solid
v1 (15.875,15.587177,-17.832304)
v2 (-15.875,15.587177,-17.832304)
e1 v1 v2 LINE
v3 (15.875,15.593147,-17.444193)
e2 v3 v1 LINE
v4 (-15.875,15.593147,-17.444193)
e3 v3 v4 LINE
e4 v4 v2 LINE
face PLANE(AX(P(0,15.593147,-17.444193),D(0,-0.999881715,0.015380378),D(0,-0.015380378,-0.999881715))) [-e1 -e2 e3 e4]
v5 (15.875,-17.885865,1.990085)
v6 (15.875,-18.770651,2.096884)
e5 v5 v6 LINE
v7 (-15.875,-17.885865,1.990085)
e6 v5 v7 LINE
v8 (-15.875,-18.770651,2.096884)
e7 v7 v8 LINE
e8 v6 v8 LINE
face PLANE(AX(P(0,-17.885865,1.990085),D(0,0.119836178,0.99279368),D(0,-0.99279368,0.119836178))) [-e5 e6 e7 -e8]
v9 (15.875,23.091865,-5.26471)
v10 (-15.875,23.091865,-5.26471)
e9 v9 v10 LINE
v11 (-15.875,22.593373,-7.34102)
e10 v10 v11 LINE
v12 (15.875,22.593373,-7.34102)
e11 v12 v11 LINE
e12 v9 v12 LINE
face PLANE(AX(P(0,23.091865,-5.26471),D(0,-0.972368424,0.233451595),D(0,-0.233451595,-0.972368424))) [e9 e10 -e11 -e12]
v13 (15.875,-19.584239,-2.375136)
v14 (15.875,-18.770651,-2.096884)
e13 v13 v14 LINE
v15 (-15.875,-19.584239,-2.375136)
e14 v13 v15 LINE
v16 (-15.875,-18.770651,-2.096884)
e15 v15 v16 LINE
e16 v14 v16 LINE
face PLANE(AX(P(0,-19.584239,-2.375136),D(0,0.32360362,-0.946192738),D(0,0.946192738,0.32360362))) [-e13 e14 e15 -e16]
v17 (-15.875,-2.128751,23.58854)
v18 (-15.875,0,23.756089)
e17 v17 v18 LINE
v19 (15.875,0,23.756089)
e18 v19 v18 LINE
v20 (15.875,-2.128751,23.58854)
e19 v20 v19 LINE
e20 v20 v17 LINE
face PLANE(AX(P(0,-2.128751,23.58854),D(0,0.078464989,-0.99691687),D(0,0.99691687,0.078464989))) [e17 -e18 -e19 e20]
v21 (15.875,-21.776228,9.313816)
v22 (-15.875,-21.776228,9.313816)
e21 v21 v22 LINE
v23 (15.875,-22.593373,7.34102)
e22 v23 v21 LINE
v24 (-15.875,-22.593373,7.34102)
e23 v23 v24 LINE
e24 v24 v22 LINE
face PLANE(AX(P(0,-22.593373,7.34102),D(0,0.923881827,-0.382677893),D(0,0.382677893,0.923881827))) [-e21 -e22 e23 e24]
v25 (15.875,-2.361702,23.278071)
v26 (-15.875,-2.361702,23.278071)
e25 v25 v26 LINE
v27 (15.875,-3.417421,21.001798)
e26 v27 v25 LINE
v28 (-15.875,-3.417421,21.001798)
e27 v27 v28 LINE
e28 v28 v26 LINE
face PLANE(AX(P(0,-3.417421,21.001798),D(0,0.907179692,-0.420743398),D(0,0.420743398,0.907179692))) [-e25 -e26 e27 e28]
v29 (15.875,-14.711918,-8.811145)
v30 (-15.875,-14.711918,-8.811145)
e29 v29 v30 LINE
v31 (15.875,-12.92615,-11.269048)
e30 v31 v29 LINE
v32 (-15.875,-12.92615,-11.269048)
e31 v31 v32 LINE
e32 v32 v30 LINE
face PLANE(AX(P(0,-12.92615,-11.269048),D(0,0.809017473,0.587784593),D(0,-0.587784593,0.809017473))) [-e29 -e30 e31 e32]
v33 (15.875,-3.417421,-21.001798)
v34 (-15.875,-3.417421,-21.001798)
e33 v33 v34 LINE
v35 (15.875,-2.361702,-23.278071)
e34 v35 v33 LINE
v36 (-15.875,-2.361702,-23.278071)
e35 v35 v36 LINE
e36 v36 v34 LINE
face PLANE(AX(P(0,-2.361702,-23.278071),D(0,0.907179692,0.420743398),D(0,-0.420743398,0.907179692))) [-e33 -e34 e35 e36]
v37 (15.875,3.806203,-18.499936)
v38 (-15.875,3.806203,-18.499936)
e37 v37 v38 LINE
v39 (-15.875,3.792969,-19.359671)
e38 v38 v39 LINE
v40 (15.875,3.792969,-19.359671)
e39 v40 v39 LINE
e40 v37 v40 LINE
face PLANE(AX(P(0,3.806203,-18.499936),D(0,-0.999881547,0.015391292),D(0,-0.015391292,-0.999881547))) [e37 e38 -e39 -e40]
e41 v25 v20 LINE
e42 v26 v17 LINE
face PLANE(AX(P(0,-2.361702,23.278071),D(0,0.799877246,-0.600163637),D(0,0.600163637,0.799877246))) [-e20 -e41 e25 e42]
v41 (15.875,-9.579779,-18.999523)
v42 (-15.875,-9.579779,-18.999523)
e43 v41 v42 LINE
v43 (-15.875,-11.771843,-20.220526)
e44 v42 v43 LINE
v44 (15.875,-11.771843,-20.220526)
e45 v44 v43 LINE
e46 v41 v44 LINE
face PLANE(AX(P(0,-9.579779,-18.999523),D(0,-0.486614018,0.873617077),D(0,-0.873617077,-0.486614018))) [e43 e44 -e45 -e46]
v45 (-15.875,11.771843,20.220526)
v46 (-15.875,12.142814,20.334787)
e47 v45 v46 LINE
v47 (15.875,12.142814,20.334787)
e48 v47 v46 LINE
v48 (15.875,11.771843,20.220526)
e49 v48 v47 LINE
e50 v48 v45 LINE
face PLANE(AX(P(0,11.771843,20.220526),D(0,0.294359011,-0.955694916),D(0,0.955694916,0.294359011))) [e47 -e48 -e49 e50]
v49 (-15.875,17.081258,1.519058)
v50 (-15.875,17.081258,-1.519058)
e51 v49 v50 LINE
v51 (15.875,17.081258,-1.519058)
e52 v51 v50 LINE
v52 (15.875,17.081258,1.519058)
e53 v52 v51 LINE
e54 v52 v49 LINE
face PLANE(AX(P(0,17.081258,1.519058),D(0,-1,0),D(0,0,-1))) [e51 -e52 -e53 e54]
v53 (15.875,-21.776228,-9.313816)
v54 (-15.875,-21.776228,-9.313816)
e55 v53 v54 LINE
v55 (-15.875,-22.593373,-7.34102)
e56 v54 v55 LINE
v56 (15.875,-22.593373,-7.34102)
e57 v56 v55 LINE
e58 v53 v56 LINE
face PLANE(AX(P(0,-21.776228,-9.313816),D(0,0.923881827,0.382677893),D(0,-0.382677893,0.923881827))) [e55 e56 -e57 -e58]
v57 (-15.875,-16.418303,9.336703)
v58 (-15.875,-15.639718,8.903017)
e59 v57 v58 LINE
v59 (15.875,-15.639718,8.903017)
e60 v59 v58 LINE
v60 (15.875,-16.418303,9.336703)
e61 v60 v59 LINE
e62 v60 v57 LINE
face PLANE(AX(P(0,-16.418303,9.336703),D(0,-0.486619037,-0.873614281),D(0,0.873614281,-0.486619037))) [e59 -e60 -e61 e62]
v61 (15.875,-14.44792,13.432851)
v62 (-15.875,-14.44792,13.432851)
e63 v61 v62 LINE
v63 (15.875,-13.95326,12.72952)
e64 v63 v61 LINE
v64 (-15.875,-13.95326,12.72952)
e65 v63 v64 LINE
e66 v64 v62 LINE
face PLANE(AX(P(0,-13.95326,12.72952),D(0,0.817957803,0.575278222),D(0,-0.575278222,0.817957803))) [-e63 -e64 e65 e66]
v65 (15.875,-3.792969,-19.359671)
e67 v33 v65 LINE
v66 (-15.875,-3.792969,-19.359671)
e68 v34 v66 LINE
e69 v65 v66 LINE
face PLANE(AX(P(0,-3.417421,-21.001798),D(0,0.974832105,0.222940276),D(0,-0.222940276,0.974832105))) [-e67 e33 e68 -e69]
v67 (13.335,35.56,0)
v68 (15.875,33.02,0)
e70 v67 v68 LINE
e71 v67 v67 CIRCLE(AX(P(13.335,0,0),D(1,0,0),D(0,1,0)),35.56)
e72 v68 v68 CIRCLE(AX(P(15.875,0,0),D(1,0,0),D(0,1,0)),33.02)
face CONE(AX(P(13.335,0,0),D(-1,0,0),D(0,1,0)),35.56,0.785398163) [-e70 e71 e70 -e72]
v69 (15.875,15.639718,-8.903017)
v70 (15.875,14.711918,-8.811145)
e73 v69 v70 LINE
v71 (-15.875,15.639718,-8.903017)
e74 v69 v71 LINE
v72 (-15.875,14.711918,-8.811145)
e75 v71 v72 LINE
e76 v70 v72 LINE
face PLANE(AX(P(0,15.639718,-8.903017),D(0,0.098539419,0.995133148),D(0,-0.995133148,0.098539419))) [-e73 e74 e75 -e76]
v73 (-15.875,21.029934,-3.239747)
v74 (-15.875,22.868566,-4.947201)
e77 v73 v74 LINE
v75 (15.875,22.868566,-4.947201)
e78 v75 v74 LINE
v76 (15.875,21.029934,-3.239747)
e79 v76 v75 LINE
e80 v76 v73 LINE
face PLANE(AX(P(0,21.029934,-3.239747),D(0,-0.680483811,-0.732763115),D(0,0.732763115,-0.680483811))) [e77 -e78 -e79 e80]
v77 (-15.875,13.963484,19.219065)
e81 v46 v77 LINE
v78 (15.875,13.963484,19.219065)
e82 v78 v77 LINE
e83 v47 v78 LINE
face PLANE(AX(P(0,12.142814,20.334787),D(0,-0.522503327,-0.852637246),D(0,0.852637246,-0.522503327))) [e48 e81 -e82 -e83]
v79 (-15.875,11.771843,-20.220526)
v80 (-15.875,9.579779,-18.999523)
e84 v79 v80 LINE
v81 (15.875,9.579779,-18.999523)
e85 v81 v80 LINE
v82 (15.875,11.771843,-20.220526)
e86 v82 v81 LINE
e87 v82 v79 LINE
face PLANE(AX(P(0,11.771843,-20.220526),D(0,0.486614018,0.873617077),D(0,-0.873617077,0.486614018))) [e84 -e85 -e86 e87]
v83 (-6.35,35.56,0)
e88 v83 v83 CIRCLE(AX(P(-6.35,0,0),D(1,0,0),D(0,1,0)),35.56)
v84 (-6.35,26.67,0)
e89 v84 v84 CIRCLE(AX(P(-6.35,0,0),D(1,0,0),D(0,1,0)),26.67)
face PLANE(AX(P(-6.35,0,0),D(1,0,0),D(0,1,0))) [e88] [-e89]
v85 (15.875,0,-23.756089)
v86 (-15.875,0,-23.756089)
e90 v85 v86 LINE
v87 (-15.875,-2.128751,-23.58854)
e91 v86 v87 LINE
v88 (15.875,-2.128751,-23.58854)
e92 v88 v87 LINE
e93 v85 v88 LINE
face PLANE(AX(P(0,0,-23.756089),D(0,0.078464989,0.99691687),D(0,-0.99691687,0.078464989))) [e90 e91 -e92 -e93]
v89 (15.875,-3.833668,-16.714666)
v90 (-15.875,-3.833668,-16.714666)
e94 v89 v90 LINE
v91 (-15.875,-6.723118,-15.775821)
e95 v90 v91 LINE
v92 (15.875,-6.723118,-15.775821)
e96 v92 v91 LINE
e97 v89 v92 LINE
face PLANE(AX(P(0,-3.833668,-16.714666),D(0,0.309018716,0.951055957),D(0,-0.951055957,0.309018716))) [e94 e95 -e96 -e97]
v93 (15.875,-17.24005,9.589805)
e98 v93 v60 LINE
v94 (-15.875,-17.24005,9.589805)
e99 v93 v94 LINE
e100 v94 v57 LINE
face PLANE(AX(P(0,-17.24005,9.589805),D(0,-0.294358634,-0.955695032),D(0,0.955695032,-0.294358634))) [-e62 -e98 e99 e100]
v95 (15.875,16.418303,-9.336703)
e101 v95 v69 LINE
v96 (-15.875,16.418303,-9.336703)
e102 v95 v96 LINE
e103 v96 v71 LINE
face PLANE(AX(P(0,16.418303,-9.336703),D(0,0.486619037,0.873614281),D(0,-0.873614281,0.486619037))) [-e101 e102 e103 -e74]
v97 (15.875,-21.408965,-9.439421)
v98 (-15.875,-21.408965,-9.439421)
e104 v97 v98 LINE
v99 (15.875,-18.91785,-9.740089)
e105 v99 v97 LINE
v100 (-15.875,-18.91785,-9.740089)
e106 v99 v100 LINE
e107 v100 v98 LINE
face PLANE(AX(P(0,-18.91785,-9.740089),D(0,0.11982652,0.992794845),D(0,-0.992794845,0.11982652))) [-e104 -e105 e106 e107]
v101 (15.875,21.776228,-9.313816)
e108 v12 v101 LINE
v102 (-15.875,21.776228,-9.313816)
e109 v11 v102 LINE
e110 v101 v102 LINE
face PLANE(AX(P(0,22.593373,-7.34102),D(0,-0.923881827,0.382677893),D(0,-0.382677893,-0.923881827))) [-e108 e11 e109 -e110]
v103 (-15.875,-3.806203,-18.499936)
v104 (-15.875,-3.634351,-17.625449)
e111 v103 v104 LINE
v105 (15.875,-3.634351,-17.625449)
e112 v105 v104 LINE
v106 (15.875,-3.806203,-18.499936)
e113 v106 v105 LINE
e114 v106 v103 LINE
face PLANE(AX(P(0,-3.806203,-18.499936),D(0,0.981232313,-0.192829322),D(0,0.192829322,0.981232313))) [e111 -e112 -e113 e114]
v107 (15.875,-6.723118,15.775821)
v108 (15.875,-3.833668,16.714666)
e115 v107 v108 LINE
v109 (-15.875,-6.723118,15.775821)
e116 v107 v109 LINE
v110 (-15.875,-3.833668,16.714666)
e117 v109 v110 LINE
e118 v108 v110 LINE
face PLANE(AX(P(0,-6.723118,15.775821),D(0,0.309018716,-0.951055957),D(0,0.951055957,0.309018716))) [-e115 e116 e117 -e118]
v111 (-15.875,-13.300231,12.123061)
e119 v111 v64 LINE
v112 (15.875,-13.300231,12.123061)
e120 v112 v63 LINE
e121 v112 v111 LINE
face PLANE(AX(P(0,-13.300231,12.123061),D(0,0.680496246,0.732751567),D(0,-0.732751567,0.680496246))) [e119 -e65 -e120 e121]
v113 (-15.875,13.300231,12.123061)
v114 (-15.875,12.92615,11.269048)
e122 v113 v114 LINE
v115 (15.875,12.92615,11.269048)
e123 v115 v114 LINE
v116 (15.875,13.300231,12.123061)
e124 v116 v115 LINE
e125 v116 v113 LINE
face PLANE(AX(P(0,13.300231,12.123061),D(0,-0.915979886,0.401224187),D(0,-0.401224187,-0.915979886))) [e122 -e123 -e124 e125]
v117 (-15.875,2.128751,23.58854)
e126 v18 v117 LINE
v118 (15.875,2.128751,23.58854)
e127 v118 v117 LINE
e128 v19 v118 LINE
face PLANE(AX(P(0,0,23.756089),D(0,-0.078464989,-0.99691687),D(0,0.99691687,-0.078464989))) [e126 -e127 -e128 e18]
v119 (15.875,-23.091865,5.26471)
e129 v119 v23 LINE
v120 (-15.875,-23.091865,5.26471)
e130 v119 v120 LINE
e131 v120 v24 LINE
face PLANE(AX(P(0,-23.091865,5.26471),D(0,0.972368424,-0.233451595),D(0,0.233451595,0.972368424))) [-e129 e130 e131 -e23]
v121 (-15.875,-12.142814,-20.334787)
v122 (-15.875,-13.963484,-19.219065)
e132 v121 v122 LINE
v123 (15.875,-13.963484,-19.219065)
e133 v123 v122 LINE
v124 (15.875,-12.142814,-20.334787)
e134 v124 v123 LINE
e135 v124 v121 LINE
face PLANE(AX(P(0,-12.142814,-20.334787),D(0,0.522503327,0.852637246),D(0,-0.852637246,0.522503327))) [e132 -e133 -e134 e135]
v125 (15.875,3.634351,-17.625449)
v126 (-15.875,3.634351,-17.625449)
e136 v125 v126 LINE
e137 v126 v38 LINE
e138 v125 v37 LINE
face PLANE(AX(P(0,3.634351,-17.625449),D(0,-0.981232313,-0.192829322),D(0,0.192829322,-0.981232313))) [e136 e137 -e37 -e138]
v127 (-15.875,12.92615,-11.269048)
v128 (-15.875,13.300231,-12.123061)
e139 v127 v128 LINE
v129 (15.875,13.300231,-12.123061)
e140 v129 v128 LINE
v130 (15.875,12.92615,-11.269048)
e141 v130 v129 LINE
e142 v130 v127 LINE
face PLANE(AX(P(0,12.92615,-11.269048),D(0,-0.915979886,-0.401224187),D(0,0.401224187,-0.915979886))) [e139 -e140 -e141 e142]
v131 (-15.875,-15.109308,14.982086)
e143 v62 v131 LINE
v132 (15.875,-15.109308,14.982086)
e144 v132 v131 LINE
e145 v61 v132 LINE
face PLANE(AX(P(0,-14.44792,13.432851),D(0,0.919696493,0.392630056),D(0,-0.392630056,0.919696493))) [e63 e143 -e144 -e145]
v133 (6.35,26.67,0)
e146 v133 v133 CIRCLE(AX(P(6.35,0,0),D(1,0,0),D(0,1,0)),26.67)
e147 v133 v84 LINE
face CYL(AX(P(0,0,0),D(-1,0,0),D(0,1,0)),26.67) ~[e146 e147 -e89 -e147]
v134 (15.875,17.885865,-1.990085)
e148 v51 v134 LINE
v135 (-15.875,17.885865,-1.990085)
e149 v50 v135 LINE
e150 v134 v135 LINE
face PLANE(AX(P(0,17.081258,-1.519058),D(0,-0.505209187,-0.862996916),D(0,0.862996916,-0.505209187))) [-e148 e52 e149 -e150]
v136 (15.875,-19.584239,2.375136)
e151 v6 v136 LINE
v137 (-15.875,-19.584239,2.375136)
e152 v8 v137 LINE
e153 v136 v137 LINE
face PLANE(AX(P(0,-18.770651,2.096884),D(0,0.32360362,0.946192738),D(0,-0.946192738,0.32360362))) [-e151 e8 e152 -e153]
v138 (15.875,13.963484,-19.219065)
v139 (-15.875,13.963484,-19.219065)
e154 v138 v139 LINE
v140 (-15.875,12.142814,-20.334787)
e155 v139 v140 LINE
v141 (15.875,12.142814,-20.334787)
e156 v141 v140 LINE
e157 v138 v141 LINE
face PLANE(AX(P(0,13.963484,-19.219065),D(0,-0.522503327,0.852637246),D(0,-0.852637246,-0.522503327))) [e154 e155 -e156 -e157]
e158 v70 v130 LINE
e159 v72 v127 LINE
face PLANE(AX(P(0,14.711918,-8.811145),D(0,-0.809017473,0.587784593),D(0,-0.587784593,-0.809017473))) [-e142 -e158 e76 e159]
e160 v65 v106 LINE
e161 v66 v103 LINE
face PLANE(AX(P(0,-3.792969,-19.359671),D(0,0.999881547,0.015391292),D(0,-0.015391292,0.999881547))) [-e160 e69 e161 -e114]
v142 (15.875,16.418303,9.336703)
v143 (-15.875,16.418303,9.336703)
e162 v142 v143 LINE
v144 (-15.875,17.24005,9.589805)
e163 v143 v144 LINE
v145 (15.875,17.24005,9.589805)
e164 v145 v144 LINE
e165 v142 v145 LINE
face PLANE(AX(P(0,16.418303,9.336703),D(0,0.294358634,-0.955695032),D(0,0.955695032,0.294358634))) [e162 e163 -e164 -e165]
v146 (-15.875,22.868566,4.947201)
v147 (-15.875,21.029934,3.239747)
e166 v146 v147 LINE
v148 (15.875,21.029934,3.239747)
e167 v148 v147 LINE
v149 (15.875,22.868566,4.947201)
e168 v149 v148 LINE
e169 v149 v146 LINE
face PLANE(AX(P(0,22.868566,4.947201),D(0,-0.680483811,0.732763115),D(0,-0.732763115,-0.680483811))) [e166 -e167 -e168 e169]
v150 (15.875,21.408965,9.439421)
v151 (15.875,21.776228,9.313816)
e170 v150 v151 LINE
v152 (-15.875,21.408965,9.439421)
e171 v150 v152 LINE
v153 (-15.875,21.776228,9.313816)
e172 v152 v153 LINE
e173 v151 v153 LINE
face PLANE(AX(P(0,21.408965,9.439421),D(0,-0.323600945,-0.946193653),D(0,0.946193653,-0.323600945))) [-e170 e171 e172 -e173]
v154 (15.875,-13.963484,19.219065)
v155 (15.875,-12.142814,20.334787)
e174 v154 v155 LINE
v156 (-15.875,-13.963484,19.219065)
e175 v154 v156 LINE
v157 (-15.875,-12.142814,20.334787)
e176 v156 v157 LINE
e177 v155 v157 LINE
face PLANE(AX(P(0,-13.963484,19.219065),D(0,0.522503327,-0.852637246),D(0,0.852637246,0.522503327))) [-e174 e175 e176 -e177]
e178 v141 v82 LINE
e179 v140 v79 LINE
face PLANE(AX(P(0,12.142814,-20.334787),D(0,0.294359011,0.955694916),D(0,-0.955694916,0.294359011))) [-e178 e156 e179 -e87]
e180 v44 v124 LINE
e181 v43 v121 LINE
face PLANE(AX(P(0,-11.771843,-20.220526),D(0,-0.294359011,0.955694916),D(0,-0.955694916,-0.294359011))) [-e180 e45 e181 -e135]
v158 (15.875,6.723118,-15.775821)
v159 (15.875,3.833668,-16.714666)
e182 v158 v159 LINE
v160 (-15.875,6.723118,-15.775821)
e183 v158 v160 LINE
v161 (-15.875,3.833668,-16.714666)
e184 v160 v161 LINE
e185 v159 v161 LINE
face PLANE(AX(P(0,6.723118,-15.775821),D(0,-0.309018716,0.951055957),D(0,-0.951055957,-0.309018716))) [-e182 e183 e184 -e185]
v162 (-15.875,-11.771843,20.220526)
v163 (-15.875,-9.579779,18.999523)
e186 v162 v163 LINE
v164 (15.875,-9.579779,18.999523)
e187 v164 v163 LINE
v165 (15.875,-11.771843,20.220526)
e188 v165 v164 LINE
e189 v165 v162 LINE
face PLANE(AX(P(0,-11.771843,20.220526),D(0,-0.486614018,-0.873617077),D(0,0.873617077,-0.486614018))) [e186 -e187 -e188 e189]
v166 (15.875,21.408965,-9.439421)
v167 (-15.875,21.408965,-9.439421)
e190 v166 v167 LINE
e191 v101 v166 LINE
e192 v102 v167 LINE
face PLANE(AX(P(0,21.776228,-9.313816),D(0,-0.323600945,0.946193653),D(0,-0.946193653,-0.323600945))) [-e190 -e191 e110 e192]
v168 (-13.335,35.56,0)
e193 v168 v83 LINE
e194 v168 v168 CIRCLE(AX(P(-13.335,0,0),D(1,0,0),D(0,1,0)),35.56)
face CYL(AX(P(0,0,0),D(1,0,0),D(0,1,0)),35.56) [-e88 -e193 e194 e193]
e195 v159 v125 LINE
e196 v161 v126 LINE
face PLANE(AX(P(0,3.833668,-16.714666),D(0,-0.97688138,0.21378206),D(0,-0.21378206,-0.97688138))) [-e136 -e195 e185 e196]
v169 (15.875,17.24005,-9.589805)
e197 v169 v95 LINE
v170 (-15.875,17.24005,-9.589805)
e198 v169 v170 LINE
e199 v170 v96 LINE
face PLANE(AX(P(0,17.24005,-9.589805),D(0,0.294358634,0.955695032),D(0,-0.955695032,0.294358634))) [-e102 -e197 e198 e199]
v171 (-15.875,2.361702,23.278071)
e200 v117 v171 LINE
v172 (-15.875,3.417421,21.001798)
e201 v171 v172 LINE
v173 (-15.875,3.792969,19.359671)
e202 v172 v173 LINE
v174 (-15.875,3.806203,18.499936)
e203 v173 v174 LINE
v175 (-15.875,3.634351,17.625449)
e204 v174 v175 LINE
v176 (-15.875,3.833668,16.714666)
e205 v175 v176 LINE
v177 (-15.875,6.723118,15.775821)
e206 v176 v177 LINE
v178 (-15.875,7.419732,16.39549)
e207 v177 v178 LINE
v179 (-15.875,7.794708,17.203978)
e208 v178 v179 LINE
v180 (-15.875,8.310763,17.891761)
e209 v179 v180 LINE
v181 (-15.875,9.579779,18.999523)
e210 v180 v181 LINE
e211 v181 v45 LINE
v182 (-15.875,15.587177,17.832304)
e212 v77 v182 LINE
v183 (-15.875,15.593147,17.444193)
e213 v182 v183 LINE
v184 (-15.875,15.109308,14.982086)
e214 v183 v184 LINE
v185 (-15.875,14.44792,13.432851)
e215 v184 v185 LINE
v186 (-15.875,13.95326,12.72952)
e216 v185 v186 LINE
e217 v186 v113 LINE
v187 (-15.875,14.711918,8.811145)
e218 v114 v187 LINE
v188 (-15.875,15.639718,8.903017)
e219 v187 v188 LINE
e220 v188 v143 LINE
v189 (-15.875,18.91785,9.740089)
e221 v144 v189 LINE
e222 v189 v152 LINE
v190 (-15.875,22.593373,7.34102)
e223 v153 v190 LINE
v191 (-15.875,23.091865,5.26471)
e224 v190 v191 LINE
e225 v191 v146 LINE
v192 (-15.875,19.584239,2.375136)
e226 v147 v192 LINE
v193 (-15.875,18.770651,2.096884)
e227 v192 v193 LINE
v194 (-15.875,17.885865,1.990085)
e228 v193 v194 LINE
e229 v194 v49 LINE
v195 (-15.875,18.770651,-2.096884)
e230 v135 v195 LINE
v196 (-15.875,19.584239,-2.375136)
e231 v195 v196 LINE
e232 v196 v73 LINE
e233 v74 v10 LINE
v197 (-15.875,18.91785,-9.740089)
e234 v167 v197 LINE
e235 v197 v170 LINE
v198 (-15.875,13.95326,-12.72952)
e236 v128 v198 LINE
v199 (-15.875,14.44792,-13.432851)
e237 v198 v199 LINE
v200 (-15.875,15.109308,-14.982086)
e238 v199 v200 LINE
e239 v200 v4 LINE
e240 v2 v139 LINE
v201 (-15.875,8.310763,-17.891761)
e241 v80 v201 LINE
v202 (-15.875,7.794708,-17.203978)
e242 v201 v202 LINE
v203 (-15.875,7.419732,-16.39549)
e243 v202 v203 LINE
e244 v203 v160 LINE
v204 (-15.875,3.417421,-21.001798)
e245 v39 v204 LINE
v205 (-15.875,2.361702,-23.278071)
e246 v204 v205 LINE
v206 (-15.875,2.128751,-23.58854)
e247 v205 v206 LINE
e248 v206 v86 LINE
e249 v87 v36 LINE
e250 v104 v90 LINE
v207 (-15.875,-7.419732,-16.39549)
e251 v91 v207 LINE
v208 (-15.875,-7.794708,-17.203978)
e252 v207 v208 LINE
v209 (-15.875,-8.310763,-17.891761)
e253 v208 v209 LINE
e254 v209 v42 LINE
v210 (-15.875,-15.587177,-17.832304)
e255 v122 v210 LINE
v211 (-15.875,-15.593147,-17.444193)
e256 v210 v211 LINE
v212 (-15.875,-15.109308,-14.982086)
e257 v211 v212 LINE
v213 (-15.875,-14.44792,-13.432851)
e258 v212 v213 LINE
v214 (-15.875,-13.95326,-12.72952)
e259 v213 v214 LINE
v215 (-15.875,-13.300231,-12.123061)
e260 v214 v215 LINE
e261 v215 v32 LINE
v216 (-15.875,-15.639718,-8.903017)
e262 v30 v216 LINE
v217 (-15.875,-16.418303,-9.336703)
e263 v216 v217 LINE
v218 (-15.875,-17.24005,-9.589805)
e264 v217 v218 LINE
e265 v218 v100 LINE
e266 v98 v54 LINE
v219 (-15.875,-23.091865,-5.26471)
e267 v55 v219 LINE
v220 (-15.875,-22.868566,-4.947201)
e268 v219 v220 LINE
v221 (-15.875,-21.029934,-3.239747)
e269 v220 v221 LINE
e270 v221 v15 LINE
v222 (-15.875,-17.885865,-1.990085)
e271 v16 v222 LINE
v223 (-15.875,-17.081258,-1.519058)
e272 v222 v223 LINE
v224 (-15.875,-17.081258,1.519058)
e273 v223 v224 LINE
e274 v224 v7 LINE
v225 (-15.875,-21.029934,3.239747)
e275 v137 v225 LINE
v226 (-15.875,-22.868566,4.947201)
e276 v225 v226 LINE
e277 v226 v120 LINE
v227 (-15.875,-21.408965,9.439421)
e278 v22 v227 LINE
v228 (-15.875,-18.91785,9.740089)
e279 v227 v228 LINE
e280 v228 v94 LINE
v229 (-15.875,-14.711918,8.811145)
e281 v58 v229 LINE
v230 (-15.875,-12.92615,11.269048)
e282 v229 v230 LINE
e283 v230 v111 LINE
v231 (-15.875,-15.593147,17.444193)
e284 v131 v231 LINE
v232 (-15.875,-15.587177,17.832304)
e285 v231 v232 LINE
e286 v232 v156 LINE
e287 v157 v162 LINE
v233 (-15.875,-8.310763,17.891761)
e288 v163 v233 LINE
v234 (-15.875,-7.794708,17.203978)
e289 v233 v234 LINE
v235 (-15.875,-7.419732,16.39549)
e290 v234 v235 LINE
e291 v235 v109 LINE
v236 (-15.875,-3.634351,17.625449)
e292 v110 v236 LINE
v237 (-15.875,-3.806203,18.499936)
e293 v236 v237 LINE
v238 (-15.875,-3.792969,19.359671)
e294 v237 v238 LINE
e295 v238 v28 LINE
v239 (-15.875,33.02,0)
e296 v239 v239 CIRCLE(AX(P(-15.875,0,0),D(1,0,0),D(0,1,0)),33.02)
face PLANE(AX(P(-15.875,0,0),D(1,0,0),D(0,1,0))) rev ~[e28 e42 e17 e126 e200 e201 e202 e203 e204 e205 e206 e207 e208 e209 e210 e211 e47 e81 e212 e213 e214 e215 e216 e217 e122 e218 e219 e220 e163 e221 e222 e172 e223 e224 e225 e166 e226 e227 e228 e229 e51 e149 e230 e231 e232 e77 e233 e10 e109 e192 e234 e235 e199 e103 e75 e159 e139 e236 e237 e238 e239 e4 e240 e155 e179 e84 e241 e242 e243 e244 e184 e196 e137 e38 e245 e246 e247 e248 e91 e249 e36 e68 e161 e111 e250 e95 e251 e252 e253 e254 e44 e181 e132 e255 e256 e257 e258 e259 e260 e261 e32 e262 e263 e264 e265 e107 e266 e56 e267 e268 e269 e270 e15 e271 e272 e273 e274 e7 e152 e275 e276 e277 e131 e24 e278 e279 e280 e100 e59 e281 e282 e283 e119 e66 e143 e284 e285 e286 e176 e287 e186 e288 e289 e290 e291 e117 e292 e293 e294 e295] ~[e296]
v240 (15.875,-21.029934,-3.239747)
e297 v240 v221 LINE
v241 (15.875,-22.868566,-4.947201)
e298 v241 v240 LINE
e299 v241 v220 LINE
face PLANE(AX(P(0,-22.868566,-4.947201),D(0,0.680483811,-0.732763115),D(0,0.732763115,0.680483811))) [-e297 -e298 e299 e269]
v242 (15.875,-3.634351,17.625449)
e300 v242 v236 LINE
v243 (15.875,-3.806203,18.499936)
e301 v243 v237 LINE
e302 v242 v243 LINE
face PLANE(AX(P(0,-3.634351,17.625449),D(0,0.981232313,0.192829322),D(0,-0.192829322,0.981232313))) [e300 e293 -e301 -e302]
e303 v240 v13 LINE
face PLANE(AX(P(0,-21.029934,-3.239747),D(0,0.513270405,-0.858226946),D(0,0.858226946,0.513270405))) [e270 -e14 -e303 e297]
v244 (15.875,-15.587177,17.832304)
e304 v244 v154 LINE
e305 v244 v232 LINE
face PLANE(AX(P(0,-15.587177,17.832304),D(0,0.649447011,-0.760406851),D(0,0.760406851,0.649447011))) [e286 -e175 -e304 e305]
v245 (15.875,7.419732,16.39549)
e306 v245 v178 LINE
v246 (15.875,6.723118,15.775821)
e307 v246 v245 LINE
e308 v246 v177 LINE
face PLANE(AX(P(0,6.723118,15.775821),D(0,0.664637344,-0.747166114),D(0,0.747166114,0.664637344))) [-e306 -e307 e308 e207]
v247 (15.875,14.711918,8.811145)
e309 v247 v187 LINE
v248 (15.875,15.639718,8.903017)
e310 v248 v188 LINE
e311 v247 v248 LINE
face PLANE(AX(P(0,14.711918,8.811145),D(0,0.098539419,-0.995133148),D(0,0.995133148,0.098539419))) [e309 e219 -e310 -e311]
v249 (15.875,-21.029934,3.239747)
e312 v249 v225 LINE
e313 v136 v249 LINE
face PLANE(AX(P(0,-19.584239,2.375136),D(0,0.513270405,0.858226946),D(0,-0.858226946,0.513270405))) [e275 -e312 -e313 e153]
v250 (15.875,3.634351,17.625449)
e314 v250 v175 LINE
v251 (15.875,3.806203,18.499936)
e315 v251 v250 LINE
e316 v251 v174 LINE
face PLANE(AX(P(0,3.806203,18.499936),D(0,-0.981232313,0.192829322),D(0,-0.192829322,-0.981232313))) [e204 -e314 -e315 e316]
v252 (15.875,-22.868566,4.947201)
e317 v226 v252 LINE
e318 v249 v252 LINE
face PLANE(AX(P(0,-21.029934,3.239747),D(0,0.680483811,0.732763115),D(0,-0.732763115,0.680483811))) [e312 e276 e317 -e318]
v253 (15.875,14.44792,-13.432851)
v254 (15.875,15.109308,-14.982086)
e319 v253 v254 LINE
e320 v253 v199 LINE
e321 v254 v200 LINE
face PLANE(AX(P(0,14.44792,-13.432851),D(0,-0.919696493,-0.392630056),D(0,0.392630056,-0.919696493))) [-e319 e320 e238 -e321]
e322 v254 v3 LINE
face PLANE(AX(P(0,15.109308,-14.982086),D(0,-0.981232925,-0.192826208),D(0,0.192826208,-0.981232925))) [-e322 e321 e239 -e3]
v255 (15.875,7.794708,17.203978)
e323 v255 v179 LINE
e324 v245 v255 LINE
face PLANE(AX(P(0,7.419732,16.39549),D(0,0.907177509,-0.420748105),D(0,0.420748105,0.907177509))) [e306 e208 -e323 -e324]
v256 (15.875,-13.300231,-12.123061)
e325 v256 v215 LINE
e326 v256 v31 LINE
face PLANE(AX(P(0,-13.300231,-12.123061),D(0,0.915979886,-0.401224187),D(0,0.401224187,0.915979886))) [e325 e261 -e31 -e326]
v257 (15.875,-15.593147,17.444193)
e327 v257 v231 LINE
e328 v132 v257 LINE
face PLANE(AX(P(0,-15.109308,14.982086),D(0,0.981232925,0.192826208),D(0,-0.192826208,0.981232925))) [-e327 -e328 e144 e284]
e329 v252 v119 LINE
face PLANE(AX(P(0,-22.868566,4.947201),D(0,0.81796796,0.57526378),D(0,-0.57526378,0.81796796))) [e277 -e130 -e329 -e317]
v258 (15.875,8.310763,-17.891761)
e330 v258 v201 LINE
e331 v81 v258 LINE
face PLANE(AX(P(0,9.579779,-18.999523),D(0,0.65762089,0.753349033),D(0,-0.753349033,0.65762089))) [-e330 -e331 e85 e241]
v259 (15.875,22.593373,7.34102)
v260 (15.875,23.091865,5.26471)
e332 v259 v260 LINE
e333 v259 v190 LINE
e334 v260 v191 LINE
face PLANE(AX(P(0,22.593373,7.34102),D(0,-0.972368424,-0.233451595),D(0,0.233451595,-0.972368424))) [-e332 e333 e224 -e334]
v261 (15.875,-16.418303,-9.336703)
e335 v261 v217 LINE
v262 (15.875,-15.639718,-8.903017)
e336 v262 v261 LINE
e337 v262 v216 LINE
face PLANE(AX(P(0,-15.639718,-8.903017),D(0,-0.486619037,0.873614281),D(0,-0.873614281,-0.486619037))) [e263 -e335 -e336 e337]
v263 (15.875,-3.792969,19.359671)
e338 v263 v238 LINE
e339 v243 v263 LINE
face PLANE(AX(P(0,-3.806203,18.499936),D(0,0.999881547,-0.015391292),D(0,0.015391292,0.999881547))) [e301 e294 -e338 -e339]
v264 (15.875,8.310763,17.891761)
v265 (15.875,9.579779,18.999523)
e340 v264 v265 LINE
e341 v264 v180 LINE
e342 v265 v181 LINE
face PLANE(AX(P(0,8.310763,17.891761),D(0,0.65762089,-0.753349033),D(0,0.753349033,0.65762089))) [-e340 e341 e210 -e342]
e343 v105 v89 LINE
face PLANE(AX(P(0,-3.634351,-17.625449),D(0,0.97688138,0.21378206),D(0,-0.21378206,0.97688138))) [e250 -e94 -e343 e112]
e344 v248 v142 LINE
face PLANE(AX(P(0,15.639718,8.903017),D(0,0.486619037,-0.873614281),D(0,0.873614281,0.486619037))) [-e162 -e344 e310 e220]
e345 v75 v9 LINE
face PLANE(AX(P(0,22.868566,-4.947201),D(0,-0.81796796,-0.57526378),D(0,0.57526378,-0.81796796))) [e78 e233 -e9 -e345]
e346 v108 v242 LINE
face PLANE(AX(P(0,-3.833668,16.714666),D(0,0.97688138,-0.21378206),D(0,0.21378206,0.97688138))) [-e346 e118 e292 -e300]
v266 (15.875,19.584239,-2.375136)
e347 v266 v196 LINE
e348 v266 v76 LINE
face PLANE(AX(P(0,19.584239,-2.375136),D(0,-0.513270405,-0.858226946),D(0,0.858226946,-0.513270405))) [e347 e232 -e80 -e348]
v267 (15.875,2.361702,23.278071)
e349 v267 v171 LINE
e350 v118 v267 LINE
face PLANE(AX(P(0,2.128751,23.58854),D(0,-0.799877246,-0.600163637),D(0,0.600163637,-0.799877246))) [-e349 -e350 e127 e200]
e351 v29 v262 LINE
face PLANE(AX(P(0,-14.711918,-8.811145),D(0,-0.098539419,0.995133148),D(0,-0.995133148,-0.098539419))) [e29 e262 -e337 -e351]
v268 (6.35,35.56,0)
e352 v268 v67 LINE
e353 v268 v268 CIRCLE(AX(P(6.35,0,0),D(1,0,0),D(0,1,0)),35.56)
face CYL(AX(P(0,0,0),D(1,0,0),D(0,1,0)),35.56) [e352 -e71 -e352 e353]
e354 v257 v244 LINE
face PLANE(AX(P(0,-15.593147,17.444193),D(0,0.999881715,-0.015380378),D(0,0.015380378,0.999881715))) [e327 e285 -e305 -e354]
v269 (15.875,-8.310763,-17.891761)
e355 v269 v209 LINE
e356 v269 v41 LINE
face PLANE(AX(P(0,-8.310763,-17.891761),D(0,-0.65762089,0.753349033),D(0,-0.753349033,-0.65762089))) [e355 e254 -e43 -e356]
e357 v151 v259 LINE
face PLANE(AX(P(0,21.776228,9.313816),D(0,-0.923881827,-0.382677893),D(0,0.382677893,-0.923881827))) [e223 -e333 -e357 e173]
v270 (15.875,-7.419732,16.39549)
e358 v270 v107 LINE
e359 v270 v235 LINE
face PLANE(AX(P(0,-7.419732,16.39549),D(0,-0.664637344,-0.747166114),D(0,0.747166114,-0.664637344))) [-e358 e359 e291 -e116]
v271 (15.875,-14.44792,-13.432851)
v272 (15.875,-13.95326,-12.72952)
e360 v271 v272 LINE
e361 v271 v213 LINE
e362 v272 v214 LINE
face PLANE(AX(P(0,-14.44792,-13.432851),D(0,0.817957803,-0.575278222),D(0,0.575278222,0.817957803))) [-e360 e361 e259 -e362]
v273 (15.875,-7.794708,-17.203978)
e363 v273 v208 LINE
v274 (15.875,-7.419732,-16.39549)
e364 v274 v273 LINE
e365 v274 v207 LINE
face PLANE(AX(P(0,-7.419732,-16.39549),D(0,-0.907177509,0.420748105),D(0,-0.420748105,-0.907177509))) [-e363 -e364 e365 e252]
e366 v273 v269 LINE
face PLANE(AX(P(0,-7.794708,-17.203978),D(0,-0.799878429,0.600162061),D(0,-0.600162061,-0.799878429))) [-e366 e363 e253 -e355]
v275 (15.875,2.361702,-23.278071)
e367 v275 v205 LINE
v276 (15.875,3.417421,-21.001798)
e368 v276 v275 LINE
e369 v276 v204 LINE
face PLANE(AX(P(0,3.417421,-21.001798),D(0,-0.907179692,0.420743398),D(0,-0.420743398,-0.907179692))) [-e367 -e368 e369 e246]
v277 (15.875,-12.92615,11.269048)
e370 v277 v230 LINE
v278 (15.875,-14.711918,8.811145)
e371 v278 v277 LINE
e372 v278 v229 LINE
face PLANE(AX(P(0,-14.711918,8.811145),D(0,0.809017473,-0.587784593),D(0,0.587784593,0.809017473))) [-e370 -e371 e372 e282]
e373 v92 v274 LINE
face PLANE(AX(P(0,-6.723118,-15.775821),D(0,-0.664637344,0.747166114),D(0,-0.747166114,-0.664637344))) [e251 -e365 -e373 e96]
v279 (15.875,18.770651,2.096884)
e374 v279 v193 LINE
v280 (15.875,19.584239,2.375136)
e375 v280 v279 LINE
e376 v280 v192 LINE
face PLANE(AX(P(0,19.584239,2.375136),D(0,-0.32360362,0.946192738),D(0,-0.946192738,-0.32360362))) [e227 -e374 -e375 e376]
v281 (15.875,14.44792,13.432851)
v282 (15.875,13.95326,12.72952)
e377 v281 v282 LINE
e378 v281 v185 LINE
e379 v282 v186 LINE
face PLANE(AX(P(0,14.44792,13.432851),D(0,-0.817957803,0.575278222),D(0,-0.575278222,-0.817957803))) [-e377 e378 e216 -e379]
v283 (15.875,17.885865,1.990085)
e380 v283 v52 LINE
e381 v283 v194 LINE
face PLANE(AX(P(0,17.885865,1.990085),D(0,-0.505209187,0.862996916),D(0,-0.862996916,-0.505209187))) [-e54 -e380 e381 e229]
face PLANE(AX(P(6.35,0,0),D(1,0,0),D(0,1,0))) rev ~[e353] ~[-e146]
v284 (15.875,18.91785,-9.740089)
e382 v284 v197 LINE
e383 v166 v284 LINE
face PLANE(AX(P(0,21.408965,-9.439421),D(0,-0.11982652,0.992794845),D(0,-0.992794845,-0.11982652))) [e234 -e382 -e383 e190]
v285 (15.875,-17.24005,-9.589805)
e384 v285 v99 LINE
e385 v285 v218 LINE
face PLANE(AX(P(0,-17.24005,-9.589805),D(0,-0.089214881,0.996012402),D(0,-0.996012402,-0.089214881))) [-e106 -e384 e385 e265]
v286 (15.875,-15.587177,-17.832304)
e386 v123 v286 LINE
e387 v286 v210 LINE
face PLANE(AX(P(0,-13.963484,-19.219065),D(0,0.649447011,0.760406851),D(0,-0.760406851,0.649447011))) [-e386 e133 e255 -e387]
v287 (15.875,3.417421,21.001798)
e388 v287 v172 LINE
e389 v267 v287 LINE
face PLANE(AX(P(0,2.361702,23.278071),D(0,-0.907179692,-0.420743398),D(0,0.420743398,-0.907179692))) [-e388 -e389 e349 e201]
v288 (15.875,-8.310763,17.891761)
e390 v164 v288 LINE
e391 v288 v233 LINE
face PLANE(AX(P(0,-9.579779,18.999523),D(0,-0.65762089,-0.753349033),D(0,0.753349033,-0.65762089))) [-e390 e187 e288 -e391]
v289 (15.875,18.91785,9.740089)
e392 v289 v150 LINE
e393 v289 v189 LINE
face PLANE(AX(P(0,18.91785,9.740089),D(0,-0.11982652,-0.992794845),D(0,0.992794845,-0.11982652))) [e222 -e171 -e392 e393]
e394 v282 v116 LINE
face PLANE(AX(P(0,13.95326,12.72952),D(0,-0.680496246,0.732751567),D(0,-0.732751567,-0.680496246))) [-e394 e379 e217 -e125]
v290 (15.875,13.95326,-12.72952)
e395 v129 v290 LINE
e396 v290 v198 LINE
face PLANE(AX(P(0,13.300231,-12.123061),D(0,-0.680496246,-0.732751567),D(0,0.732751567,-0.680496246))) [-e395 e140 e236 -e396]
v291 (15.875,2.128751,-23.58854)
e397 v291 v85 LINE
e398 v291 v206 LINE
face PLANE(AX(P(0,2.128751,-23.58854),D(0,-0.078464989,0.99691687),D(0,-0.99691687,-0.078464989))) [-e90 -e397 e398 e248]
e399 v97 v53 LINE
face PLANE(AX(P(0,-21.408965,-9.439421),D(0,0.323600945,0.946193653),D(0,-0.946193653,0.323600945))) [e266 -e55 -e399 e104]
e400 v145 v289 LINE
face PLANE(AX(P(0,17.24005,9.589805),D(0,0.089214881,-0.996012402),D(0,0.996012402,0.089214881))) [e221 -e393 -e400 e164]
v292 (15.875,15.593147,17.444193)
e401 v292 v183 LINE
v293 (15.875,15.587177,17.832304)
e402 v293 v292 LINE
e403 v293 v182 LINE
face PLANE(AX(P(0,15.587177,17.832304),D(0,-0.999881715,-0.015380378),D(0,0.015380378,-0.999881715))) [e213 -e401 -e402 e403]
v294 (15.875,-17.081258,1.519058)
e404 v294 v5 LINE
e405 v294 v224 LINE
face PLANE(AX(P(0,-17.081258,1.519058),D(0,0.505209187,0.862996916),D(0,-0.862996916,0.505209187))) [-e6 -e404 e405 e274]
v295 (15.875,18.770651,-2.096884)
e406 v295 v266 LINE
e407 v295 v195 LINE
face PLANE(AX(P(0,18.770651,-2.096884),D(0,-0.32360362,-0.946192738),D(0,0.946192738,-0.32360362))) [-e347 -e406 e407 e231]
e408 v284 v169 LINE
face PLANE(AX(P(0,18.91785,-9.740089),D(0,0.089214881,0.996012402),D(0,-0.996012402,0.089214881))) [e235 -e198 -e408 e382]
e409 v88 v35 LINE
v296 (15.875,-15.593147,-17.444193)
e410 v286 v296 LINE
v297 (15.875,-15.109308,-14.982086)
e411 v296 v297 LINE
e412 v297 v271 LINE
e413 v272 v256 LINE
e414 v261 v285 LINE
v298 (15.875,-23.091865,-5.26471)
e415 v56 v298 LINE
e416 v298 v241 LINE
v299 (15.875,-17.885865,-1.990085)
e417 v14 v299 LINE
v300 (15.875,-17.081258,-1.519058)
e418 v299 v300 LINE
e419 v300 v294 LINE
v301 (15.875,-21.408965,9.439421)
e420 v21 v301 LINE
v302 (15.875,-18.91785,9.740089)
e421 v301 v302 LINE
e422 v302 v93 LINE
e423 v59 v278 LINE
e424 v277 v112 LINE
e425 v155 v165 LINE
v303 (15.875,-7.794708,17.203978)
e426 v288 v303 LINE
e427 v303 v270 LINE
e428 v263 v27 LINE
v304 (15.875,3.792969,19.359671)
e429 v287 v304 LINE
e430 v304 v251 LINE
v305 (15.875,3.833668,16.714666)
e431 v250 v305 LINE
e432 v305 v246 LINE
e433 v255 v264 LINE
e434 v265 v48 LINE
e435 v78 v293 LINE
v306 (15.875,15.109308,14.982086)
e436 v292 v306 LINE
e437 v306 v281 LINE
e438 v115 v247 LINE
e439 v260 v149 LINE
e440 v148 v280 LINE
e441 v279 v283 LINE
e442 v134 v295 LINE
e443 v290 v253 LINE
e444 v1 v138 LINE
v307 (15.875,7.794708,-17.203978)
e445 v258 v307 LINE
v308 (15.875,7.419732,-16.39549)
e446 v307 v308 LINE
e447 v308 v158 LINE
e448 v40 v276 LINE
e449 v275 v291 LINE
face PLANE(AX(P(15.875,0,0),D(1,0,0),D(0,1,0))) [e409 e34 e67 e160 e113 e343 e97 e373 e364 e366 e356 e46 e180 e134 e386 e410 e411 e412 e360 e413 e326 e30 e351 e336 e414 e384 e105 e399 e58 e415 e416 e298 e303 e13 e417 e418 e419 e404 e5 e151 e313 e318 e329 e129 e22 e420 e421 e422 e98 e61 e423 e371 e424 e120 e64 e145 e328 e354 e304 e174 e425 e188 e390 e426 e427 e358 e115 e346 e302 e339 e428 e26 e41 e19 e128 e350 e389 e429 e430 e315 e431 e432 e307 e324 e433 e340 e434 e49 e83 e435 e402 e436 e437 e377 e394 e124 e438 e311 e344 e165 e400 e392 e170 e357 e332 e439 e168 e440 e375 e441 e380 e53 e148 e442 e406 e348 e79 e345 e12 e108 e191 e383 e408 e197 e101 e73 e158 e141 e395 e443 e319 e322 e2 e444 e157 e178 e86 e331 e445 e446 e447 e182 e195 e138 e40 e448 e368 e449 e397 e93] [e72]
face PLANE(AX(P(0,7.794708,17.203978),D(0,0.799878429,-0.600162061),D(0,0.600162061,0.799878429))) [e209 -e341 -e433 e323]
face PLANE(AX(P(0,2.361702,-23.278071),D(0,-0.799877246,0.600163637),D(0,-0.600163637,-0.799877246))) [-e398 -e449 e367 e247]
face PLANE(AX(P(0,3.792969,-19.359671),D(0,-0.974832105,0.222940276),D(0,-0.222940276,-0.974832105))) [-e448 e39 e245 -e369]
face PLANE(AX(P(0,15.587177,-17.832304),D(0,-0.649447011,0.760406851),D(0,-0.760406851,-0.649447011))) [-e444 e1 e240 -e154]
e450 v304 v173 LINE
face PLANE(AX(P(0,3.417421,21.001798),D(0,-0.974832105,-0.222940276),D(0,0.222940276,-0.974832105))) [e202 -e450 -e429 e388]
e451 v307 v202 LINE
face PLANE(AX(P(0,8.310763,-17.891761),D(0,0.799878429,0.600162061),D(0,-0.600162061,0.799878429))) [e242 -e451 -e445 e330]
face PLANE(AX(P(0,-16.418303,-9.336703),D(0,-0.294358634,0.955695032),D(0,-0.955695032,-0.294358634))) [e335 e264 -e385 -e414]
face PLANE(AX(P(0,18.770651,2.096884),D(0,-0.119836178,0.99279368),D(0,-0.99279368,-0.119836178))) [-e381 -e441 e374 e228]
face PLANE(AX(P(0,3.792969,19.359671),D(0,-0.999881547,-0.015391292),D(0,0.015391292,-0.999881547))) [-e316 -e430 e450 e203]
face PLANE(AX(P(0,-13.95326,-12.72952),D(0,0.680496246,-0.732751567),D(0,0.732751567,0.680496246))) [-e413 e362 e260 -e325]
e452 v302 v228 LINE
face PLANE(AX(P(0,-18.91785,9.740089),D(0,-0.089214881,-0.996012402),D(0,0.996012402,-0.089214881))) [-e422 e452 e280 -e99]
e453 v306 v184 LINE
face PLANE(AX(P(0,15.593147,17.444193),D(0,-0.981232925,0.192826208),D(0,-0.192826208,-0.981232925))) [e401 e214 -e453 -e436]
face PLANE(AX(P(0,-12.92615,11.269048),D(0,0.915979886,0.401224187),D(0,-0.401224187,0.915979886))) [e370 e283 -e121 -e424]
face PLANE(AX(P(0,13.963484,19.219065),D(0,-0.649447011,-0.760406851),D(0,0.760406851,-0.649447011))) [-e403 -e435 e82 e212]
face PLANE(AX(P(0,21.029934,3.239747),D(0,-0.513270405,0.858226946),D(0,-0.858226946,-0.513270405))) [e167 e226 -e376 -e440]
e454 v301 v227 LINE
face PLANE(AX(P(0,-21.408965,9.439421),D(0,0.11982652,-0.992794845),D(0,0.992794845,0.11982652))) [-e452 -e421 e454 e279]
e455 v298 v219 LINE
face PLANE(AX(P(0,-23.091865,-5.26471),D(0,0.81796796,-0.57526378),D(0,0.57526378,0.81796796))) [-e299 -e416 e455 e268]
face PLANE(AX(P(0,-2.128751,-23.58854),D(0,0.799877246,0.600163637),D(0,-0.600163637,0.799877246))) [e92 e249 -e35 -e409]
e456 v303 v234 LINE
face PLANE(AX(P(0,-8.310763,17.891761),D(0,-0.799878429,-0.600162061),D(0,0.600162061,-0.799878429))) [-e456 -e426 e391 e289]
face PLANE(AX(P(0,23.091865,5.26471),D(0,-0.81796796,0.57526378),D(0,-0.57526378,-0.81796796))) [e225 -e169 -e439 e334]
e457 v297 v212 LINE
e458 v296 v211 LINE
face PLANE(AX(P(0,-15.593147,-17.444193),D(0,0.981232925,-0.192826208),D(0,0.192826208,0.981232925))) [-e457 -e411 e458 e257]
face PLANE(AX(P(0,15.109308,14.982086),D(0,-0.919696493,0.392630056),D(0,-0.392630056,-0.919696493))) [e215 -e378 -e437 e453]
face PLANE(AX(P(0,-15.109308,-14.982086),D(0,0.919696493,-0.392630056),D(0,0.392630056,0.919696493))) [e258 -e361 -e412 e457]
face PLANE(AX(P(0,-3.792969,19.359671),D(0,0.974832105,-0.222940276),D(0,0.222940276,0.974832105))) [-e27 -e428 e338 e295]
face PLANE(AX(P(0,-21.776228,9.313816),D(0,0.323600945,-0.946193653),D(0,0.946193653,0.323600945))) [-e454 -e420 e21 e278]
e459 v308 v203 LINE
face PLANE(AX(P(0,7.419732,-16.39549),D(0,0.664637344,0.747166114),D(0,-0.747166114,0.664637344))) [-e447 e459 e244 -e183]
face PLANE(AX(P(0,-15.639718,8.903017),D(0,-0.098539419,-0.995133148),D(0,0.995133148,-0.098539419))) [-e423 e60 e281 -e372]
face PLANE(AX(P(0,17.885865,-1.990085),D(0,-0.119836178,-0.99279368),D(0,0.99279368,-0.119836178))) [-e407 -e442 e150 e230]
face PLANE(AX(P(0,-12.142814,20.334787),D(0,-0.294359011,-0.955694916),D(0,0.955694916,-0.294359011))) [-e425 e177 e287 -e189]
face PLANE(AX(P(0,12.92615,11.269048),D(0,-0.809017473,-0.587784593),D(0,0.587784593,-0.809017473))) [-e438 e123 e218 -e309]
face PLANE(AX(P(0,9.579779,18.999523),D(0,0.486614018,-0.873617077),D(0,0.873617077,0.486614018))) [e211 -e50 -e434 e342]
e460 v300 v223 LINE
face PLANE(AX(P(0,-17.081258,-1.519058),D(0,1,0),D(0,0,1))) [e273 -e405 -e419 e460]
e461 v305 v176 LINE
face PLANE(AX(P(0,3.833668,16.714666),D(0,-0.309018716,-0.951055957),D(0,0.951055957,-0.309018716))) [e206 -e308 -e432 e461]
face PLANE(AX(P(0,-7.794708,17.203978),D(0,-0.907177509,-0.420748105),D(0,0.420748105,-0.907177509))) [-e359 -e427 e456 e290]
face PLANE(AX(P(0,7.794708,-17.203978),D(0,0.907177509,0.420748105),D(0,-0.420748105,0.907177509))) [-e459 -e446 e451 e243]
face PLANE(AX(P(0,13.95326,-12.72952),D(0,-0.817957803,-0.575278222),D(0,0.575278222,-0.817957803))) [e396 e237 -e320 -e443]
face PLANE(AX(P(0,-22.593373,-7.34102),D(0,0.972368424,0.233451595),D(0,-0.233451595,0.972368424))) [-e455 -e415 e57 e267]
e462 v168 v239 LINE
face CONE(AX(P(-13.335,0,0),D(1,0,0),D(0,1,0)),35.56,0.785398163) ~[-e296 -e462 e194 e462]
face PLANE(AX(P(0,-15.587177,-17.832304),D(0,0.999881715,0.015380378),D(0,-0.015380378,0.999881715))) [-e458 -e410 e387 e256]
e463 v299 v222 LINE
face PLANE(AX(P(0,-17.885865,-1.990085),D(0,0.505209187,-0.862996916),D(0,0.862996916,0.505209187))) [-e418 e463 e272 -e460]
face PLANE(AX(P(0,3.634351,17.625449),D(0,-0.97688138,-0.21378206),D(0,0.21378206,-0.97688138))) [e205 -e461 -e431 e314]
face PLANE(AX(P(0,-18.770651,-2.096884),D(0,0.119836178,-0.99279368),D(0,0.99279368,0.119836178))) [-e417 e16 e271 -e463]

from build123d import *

# Parameters (mm, degrees)
F0_R     = 35.56
F1_DEPTH = 15.875
F2_SIZE  = 2.54
F3_R     = 35.56
F3_R_2   = 26.67
F4_DEPTH = 6.35


with BuildPart() as f1:
    # F0 (on Right) → F1 (new body, symmetric)
    with BuildSketch(Plane.YZ):
        Circle(F0_R)
        Polygon((-22.868566, 4.947201), (-23.091865, 5.26471), (-22.593373, 7.34102), (-21.776228, 9.313816), (-21.408965, 9.439421), (-18.91785, 9.740089), (-17.24005, 9.589805), (-16.418303, 9.336703), (-15.639718, 8.903017), (-14.711918, 8.811145), (-12.92615, 11.269048), (-13.300231, 12.123061), (-13.95326, 12.72952), (-14.44792, 13.432851), (-15.109308, 14.982086), (-15.593147, 17.444193), (-15.587177, 17.832304), (-13.963484, 19.219065), (-12.142814, 20.334787), (-11.771843, 20.220526), (-9.579779, 18.999523), (-8.310763, 17.891761), (-7.794708, 17.203978), (-7.419732, 16.39549), (-6.723118, 15.775821), (-3.833668, 16.714666), (-3.634351, 17.625449), (-3.806203, 18.499936), (-3.792969, 19.359671), (-3.417421, 21.001798), (-2.361702, 23.278071), (-2.128751, 23.58854), (0, 23.756089), (2.128751, 23.58854), (2.361702, 23.278071), (3.417421, 21.001798), (3.792969, 19.359671), (3.806203, 18.499936), (3.634351, 17.625449), (3.833668, 16.714666), (6.723118, 15.775821), (7.419732, 16.39549), (7.794708, 17.203978), (8.310763, 17.891761), (9.579779, 18.999523), (11.771843, 20.220526), (12.142814, 20.334787), (13.963484, 19.219065), (15.587177, 17.832304), (15.593147, 17.444193), (15.109308, 14.982086), (14.44792, 13.432851), (13.95326, 12.72952), (13.300231, 12.123061), (12.92615, 11.269048), (14.711918, 8.811145), (15.639718, 8.903017), (16.418303, 9.336703), (17.24005, 9.589805), (18.91785, 9.740089), (21.408965, 9.439421), (21.776228, 9.313816), (22.593373, 7.34102), (23.091865, 5.26471), (22.868566, 4.947201), (21.029934, 3.239747), (19.584239, 2.375136), (18.770651, 2.096884), (17.885865, 1.990085), (17.081258, 1.519058), (17.081258, -1.519058), (17.885865, -1.990085), (18.770651, -2.096884), (19.584239, -2.375136), (21.029934, -3.239747), (22.868566, -4.947201), (23.091865, -5.26471), (22.593373, -7.34102), (21.776228, -9.313816), (21.408965, -9.439421), (18.91785, -9.740089), (17.24005, -9.589805), (16.418303, -9.336703), (15.639718, -8.903017), (14.711918, -8.811145), (12.92615, -11.269048), (13.300231, -12.123061), (13.95326, -12.72952), (14.44792, -13.432851), (15.109308, -14.982086), (15.593147, -17.444193), (15.587177, -17.832304), (13.963484, -19.219065), (12.142814, -20.334787), (11.771843, -20.220526), (9.579779, -18.999523), (8.310763, -17.891761), (7.794708, -17.203978), (7.419732, -16.39549), (6.723118, -15.775821), (3.833668, -16.714666), (3.634351, -17.625449), (3.806203, -18.499936), (3.792969, -19.359671), (3.417421, -21.001798), (2.361702, -23.278071), (2.128751, -23.58854), (0, -23.756089), (-2.128751, -23.58854), (-2.361702, -23.278071), (-3.417421, -21.001798), (-3.792969, -19.359671), (-3.806203, -18.499936), (-3.634351, -17.625449), (-3.833668, -16.714666), (-6.723118, -15.775821), (-7.419732, -16.39549), (-7.794708, -17.203978), (-8.310763, -17.891761), (-9.579779, -18.999523), (-11.771843, -20.220526), (-12.142814, -20.334787), (-13.963484, -19.219065), (-15.587177, -17.832304), (-15.593147, -17.444193), (-15.109308, -14.982086), (-14.44792, -13.432851), (-13.95326, -12.72952), (-13.300231, -12.123061), (-12.92615, -11.269048), (-14.711918, -8.811145), (-15.639718, -8.903017), (-16.418303, -9.336703), (-17.24005, -9.589805), (-18.91785, -9.740089), (-21.408965, -9.439421), (-21.776228, -9.313816), (-22.593373, -7.34102), (-23.091865, -5.26471), (-22.868566, -4.947201), (-21.029934, -3.239747), (-19.584239, -2.375136), (-18.770651, -2.096884), (-17.885865, -1.990085), (-17.081258, -1.519058), (-17.081258, 1.519058), (-17.885865, 1.990085), (-18.770651, 2.096884), (-19.584239, 2.375136), (-21.029934, 3.239747), align=None, mode=Mode.SUBTRACT)
    extrude(amount=F1_DEPTH, both=True)

    # F2
    f2_edges = [f1.edges().sort_by_distance(p)[0] for p in [
        (15.875, -35.56, 0),
        (-15.875, -35.56, 0),
    ]]
    chamfer(f2_edges, length=F2_SIZE)

    # F3 (on Right) → F4 (cut, symmetric)
    with BuildSketch(Plane.YZ):
        Circle(F3_R)
        Circle(F3_R_2, mode=Mode.SUBTRACT)
    extrude(amount=F4_DEPTH, both=True, mode=Mode.SUBTRACT)


solid = f1.part
